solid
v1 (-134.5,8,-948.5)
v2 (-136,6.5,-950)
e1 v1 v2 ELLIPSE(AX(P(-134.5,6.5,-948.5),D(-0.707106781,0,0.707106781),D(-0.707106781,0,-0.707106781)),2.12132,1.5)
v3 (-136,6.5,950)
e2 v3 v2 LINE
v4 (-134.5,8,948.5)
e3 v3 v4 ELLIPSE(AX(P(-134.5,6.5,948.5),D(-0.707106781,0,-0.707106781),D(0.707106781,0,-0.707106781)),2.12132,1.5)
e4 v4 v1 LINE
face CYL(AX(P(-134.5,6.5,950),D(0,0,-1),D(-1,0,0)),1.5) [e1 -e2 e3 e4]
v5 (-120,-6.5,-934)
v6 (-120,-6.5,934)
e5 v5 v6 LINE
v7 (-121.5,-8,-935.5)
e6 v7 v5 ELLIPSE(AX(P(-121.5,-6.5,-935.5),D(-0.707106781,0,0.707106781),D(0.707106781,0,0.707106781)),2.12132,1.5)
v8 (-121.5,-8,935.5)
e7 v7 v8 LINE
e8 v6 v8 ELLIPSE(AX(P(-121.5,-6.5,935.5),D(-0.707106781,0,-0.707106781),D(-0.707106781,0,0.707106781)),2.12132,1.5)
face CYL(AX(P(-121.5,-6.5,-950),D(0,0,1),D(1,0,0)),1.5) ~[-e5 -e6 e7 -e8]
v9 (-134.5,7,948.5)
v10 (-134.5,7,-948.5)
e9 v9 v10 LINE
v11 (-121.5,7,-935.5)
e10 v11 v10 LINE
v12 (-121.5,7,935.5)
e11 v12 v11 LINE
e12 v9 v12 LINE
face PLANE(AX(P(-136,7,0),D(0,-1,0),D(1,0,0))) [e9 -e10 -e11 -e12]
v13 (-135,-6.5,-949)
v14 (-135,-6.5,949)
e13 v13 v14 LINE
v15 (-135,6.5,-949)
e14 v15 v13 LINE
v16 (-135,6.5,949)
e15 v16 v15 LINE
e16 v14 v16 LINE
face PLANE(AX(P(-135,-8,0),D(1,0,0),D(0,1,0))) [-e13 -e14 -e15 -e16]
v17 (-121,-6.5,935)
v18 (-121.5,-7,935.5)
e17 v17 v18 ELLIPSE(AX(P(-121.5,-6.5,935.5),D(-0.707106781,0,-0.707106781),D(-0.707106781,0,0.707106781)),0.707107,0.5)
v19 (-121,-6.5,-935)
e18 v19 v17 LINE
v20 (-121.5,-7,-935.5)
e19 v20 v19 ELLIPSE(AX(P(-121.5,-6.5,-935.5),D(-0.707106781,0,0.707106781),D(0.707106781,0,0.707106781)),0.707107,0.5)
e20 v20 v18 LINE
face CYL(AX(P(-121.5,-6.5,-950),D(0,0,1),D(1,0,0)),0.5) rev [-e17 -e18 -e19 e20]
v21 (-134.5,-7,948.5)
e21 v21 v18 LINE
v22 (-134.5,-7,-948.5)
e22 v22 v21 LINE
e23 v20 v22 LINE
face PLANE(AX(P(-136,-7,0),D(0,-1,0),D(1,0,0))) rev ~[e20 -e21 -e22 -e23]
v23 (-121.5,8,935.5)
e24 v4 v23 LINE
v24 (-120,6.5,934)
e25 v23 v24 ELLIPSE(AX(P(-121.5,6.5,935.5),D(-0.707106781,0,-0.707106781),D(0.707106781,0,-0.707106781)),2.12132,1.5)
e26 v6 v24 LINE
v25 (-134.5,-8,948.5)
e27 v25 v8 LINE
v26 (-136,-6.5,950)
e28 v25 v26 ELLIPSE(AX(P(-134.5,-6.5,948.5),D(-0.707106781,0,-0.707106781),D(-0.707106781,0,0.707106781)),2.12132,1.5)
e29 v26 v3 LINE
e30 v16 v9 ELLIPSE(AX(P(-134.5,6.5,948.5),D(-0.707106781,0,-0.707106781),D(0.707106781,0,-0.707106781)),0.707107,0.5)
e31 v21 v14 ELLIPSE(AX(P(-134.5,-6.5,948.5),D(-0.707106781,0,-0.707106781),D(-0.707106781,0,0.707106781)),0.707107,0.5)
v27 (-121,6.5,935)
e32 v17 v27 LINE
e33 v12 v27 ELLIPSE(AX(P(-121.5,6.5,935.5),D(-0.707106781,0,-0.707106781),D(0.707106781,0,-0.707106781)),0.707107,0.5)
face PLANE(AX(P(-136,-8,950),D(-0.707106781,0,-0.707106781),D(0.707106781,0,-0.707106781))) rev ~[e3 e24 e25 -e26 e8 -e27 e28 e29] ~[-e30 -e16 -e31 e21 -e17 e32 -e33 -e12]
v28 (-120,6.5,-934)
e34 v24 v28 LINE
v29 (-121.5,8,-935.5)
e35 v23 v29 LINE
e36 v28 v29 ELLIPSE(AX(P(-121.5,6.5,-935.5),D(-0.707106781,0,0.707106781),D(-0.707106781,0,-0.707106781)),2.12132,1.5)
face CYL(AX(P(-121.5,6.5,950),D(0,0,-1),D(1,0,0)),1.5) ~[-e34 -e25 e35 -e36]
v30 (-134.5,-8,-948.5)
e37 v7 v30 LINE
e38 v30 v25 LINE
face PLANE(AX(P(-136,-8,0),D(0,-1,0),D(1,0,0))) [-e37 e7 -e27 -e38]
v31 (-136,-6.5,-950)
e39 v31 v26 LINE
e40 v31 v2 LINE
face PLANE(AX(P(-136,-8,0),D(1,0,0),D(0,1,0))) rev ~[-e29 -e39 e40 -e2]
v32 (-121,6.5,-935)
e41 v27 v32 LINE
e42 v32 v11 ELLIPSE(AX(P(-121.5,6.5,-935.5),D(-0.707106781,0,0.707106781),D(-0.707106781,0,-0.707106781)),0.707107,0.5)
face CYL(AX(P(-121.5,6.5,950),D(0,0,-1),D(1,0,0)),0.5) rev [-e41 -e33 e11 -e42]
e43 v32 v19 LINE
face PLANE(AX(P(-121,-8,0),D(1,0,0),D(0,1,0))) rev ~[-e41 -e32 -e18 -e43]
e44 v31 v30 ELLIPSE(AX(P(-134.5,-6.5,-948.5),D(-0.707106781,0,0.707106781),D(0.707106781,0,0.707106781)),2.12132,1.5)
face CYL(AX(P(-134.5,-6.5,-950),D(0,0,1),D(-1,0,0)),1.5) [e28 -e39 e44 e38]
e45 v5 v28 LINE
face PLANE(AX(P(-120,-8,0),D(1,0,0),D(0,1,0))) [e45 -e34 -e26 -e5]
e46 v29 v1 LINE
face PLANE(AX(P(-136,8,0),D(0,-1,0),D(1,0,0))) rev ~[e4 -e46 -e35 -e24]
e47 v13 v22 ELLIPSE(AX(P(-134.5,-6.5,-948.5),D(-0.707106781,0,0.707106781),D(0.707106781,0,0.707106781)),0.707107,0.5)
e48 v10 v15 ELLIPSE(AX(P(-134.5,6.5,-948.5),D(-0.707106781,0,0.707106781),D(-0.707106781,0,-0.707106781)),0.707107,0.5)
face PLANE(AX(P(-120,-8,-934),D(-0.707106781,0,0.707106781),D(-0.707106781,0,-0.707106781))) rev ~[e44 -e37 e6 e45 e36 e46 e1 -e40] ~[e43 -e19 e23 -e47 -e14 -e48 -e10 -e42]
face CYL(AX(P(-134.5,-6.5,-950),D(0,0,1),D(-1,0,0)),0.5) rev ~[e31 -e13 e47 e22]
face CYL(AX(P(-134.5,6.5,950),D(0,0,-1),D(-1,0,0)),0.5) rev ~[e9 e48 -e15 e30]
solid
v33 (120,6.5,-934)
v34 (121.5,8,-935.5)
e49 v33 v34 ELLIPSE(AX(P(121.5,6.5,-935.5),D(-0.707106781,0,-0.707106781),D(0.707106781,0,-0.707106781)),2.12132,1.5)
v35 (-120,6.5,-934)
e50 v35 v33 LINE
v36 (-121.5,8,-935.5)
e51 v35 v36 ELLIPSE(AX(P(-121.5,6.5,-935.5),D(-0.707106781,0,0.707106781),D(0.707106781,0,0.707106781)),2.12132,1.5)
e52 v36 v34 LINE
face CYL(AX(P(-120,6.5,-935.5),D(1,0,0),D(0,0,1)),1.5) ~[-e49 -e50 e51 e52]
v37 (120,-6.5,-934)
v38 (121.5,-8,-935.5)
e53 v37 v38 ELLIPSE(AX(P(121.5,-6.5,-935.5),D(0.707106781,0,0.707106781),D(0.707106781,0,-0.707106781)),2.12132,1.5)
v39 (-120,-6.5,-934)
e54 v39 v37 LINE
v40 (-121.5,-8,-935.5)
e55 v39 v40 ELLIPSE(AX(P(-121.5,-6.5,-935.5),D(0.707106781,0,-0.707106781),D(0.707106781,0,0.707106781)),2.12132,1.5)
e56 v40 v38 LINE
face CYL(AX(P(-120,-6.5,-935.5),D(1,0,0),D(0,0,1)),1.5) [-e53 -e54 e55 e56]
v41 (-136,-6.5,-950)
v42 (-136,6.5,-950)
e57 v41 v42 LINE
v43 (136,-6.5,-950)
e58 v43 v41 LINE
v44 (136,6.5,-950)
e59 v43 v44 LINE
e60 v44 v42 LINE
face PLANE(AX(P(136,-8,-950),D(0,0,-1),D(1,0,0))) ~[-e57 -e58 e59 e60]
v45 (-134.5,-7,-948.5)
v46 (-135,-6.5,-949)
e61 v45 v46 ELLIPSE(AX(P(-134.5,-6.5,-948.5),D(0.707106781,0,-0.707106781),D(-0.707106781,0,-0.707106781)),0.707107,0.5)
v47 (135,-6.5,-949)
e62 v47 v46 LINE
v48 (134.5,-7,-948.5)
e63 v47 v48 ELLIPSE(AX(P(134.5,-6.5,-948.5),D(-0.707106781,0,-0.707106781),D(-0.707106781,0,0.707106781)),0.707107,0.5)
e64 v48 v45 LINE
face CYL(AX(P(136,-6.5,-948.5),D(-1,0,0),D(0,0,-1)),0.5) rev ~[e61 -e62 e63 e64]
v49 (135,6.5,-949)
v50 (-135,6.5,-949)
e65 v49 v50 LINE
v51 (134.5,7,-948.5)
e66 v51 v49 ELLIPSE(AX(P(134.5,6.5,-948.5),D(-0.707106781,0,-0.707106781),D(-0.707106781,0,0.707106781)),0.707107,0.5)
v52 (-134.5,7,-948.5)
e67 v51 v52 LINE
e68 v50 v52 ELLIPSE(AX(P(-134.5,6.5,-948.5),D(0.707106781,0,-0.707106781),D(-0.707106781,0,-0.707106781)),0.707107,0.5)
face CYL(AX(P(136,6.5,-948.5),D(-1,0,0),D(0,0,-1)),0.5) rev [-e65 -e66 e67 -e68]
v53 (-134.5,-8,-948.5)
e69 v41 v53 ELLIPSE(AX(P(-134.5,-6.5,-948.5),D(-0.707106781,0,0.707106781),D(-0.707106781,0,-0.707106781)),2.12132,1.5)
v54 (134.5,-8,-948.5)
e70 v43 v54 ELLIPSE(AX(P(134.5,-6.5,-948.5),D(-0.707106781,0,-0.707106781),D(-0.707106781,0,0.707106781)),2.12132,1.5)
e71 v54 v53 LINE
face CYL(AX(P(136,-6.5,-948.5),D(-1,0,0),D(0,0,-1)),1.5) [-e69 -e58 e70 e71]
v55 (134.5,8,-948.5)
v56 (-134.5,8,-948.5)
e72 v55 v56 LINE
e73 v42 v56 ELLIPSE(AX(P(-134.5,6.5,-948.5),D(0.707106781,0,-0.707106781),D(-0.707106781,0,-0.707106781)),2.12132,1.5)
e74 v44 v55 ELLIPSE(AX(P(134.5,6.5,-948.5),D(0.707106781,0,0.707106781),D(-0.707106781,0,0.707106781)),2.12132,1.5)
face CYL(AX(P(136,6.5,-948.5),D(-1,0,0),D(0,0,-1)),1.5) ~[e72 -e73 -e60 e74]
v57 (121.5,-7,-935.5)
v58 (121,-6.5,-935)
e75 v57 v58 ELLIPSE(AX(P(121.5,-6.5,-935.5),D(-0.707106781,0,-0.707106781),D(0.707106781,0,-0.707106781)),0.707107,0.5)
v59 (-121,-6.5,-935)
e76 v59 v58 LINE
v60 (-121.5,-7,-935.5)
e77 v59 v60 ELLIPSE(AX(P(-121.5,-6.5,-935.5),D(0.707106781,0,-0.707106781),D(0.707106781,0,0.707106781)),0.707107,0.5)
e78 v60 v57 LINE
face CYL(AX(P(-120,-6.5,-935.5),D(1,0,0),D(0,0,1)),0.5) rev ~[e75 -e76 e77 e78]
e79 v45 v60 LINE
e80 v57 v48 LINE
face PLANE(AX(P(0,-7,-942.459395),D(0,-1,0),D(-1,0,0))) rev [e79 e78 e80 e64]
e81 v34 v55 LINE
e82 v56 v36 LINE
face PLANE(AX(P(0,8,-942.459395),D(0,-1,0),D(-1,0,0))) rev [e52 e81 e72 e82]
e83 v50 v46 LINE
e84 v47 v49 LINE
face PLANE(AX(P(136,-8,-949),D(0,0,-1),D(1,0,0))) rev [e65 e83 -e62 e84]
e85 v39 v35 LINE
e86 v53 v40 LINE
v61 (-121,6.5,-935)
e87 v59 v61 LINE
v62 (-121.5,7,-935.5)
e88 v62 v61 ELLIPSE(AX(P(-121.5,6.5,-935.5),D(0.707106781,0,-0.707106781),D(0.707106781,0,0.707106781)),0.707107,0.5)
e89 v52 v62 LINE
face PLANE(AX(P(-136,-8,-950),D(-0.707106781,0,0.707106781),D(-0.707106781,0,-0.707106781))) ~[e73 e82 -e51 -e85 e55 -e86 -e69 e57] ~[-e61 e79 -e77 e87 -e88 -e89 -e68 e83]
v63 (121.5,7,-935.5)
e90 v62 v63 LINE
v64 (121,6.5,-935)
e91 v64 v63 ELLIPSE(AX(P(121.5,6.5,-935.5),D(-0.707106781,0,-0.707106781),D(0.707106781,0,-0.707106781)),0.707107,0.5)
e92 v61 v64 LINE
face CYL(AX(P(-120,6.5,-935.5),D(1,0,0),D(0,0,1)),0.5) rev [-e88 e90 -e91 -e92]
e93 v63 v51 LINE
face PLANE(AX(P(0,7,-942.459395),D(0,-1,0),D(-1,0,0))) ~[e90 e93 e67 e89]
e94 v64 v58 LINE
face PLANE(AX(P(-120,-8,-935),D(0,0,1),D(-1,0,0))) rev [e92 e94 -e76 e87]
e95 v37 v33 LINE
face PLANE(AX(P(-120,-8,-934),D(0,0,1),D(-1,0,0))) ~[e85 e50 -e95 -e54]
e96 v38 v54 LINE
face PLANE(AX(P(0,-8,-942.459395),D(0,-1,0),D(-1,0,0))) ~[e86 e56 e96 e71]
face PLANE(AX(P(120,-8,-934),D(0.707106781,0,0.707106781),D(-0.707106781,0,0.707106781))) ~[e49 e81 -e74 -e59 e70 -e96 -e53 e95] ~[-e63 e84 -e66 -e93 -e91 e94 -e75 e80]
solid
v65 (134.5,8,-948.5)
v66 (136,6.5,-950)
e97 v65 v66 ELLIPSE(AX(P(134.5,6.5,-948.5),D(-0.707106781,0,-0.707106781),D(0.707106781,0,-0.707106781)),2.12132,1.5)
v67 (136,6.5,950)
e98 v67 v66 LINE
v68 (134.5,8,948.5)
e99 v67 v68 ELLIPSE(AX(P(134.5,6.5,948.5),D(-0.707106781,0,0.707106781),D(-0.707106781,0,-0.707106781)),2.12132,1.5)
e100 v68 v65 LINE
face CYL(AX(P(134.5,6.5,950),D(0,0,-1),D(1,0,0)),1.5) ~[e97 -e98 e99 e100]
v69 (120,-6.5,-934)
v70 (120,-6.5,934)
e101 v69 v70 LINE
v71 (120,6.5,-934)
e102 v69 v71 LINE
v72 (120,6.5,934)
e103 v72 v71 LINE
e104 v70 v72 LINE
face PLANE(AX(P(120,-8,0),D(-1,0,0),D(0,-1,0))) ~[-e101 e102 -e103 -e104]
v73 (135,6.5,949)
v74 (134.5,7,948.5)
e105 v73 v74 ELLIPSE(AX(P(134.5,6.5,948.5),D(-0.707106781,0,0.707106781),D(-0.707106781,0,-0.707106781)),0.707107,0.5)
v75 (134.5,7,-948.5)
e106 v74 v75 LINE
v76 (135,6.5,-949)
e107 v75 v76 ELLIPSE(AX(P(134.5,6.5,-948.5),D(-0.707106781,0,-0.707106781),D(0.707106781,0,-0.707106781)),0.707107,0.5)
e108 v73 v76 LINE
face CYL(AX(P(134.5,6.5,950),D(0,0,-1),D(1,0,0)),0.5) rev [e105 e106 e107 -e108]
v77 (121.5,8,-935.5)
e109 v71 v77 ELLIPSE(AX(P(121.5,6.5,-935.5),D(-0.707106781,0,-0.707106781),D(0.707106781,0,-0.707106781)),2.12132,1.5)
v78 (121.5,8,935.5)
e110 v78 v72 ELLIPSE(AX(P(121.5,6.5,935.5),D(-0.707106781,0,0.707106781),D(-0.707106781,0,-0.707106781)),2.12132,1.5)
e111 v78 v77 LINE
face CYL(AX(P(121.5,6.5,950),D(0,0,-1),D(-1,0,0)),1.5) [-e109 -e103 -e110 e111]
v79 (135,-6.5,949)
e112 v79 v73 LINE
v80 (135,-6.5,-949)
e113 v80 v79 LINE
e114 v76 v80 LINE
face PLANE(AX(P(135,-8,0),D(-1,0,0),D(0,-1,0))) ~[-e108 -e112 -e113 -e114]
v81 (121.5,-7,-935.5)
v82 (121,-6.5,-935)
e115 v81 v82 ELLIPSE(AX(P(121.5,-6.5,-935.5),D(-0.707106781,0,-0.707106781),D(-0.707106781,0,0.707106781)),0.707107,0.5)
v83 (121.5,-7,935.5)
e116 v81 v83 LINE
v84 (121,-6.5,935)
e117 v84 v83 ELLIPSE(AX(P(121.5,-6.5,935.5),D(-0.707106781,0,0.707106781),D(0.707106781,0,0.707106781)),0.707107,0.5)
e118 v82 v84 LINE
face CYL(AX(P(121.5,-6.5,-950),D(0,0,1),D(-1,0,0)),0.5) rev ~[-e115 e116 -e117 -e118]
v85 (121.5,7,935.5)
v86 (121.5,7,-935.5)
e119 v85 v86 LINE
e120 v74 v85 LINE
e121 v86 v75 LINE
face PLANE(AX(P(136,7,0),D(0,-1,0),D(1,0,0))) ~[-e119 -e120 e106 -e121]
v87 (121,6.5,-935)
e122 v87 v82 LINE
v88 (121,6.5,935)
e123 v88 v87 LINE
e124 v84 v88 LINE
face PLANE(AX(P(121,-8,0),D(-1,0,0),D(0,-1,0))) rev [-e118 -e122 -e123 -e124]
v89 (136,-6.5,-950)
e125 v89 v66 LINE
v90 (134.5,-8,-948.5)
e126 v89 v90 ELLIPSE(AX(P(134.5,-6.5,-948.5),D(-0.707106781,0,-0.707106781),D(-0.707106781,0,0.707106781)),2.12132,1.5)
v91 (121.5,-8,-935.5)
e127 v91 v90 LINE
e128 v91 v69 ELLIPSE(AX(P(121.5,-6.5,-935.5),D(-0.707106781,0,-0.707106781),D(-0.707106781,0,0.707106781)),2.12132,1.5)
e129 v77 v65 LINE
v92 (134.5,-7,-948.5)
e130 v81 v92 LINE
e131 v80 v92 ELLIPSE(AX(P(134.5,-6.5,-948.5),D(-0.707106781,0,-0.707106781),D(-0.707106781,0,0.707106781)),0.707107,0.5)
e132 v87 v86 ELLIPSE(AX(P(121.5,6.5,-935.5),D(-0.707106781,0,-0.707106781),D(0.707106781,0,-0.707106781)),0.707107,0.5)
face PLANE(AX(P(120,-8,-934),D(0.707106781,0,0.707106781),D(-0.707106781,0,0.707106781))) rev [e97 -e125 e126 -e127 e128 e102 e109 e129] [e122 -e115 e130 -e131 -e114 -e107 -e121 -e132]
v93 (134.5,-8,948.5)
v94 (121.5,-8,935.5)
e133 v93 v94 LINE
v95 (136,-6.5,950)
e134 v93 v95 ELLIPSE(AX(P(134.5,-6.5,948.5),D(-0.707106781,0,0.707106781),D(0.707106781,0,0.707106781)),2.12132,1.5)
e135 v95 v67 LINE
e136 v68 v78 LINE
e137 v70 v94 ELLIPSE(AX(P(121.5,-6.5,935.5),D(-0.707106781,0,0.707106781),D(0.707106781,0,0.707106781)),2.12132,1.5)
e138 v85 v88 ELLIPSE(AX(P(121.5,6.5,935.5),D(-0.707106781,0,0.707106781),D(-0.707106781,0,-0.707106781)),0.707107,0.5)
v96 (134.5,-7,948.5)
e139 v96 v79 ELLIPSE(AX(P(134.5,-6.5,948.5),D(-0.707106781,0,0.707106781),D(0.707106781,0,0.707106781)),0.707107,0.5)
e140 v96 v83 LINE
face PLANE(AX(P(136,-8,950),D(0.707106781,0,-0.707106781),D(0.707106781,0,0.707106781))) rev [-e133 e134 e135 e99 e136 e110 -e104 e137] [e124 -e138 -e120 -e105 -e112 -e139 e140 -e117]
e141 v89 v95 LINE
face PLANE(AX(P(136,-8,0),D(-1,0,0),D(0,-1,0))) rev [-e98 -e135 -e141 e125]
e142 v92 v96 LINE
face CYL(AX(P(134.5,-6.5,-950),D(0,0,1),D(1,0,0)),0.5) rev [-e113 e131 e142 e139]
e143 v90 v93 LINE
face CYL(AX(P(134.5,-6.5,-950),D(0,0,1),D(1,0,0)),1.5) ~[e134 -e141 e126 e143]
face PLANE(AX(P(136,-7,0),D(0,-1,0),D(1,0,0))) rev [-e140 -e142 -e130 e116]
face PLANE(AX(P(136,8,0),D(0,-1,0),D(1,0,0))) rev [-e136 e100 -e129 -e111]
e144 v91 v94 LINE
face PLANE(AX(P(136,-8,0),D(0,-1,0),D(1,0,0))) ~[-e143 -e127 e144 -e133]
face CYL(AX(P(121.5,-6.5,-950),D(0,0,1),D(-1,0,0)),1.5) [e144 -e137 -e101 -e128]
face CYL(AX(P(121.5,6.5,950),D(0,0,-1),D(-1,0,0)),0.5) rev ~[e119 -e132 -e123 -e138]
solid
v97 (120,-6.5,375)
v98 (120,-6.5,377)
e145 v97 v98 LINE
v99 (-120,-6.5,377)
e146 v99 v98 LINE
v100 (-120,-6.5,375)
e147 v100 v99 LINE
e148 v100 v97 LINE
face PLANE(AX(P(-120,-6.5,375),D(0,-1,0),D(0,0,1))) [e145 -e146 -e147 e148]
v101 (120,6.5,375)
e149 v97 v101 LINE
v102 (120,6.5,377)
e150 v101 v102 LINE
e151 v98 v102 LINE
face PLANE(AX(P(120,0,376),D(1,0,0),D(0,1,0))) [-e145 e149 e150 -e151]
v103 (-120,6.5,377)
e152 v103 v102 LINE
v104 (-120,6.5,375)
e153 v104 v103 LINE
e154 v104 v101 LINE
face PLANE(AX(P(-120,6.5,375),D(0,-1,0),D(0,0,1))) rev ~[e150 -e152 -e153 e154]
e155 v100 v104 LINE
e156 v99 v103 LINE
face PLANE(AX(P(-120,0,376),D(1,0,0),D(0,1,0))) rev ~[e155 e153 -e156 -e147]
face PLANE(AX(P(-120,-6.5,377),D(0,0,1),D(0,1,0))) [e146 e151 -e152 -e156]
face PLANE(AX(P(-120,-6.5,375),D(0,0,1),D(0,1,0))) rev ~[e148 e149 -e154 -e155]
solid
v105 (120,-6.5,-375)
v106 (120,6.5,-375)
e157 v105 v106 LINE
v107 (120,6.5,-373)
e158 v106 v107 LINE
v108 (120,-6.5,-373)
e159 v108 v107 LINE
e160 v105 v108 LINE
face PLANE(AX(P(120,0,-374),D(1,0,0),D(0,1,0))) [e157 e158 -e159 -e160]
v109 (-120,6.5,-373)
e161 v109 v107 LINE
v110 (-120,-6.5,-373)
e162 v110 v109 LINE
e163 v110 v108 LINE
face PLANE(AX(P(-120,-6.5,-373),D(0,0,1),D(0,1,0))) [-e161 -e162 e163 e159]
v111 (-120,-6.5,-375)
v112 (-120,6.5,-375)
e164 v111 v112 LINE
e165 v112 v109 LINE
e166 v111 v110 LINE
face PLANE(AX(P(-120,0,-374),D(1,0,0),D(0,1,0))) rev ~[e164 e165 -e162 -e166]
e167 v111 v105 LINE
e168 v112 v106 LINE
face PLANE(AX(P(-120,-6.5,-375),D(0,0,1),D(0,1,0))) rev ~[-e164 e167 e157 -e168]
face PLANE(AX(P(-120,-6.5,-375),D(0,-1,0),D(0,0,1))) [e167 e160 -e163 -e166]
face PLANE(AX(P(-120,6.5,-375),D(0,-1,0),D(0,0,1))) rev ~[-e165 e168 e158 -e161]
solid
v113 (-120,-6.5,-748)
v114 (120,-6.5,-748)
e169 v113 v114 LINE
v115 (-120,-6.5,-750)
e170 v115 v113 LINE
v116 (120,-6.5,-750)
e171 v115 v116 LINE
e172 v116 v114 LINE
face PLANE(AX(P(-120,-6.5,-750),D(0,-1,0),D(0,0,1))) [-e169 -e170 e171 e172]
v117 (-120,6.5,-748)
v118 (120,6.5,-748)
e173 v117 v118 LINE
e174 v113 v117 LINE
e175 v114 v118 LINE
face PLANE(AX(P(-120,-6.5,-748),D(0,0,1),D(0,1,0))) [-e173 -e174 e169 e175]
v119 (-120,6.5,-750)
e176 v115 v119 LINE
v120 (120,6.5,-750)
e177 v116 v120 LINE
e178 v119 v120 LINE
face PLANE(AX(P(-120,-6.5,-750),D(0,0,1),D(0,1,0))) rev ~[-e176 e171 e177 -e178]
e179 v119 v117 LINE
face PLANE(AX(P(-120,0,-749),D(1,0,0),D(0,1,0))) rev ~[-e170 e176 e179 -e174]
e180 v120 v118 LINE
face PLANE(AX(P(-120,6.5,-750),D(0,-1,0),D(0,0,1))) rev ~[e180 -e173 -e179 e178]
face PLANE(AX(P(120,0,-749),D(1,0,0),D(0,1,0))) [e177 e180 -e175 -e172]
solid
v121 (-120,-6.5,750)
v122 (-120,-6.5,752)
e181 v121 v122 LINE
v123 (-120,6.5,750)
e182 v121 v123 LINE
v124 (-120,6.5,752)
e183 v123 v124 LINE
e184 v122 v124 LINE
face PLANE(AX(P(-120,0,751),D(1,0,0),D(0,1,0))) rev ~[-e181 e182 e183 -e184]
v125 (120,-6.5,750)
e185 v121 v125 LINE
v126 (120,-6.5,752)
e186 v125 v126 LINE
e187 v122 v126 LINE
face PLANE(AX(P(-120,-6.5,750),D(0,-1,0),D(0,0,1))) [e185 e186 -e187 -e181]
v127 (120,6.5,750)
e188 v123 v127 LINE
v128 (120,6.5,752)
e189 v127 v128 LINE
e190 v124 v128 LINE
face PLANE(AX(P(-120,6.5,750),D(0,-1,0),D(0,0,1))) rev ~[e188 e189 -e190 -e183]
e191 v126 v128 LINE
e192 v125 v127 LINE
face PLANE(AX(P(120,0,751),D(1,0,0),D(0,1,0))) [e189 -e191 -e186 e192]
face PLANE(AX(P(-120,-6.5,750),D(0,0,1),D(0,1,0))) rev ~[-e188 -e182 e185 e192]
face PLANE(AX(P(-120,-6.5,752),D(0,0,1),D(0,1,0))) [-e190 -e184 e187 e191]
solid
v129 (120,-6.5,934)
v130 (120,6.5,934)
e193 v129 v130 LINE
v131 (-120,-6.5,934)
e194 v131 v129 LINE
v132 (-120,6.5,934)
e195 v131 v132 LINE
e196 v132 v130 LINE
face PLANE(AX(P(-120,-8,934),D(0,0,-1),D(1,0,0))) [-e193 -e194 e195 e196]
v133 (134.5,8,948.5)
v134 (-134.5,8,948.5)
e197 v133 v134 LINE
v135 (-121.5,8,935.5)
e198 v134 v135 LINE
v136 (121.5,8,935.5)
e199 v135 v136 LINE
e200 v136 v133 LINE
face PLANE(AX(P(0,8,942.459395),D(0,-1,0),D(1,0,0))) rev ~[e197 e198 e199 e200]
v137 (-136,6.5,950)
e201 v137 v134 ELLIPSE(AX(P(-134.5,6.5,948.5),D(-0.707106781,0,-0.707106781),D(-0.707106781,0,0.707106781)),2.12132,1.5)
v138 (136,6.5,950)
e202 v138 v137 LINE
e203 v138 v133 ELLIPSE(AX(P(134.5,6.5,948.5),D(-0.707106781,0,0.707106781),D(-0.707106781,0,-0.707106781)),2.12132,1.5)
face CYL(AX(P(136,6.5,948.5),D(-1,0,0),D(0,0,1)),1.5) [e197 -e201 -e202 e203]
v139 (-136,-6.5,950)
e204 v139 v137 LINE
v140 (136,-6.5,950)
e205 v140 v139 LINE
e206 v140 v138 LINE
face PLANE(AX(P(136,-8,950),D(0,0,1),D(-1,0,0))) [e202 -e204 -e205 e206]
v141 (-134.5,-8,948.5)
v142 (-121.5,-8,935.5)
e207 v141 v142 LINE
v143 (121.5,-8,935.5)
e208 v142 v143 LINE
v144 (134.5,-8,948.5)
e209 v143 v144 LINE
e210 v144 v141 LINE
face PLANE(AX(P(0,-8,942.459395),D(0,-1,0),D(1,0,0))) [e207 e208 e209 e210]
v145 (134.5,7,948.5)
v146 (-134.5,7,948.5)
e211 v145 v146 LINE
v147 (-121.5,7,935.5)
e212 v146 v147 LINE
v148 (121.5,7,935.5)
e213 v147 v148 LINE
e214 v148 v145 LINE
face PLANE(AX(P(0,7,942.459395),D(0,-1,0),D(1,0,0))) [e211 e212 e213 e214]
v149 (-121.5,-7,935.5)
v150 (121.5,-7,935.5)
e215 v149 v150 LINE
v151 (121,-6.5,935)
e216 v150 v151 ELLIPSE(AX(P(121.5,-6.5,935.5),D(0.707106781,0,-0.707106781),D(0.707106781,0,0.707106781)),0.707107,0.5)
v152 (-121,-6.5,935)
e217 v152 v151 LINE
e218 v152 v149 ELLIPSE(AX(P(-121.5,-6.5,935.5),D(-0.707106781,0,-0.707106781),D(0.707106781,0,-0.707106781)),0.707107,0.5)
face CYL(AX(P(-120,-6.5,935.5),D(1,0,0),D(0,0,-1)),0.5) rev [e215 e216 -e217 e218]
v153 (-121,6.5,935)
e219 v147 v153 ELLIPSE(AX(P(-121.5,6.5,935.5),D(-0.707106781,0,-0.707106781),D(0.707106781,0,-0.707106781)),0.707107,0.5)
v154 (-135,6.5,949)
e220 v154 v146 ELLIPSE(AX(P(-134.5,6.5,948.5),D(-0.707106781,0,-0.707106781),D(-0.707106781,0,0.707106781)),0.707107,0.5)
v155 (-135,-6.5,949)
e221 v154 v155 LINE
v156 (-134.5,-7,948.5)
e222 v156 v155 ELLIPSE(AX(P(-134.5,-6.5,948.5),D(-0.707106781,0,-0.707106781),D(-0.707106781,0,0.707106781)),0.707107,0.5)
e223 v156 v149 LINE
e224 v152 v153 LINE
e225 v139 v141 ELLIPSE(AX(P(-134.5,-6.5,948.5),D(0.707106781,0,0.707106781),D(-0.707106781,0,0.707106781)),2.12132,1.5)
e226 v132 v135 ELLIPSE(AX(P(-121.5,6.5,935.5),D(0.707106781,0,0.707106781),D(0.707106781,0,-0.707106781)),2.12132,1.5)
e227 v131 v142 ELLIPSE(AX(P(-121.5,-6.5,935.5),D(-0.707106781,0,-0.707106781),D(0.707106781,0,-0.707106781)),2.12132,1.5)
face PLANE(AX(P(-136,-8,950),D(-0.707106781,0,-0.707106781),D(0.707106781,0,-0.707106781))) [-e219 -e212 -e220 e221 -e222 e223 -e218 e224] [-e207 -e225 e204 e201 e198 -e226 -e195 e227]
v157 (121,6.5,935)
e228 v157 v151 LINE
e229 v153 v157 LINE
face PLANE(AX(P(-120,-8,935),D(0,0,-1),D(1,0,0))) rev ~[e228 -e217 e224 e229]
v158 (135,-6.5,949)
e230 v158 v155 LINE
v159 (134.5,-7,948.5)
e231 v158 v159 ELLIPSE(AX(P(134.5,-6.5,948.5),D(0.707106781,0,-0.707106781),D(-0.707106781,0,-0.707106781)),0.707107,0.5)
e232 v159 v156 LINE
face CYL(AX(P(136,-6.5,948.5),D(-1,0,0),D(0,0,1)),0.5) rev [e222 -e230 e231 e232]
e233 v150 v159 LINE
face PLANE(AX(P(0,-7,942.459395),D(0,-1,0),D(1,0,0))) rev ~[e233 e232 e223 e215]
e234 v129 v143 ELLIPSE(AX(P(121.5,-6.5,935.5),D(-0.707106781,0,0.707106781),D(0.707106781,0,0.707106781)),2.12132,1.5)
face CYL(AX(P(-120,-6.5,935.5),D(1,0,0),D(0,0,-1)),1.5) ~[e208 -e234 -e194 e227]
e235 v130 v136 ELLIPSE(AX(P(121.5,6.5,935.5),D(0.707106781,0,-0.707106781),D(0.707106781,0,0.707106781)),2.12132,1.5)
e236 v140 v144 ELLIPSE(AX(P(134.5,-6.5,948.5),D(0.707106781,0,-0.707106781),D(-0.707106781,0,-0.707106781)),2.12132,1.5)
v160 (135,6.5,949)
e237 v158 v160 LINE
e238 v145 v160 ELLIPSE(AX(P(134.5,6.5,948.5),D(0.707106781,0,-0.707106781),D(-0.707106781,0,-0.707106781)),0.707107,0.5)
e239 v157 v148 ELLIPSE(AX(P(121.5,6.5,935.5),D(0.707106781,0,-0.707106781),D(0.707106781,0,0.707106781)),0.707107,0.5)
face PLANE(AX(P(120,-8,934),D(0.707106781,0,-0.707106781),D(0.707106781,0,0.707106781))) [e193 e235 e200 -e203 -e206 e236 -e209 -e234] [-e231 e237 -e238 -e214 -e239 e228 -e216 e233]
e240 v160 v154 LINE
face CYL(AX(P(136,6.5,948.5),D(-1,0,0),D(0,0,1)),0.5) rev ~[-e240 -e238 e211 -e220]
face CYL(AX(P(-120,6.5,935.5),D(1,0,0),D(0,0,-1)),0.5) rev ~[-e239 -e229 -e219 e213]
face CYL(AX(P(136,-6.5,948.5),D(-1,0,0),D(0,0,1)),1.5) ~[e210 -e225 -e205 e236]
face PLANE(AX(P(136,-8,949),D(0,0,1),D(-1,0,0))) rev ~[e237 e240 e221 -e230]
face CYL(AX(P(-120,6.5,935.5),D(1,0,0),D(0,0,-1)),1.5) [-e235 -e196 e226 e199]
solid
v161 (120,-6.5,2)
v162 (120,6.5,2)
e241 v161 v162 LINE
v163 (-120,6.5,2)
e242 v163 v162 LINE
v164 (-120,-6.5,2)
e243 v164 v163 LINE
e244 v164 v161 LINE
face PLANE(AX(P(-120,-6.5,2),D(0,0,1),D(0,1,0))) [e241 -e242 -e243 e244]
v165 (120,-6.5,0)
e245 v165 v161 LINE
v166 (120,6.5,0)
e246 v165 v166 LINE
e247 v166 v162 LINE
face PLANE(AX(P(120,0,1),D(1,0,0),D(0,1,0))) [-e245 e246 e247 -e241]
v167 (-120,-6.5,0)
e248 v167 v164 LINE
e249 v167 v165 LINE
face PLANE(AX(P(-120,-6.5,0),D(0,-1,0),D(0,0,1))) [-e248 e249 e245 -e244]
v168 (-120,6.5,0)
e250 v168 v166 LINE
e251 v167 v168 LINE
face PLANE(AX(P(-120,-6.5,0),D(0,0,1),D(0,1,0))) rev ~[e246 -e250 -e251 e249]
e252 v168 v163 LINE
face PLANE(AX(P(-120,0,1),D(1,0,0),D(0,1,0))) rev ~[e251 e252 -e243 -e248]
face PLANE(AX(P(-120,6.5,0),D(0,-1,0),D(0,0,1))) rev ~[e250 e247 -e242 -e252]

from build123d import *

# Parameters (mm, degrees)
F5_W      = 16
F5_H      = 16
F6_DEPTH  = 950
F7_R      = 1.5
F8_T      = -1
F10_DEPTH = 16.001
F12_DEPTH = 16
F13_R     = 1.5
F14_T     = -1
F17_W     = 13
F17_H     = 2
F18_DEPTH = 240


with BuildPart() as f6:
    # F5 (on Top) → F6 (new body, symmetric)
    with BuildSketch(Plane.XY):
        with Locations((-128, 0)):
            Rectangle(F5_W, F5_H)
    extrude(amount=F6_DEPTH, both=True)

    # F7
    f7_edges = [f6.edges().sort_by_distance(p)[0] for p in [
        (-120, -8, 0),
        (-120, 8, 0),
        (-136, 8, 0),
        (-136, -8, 0),
    ]]
    fillet(f7_edges, radius=F7_R)

    # F8
    f8_openings = [f6.faces().sort_by_distance(p)[0] for p in [
        (-128, 0, 950),
        (-128, 0, -950),
    ]]
    offset(amount=F8_T, openings=f8_openings)

    # F9 (on face) → F10 (cut, through all)
    with BuildSketch(Plane.XZ.offset(8)):
        Polygon((-120, 950), (-136, 950), (-120, 934), align=None)
        Polygon((-120, -934), (-136, -950), (-120, -950), align=None)
    extrude(amount=-F10_DEPTH, mode=Mode.SUBTRACT)


with BuildPart() as f12:
    # F11 (on face) → F12 (new body)
    with BuildSketch(Plane.XZ.offset(8)):
        Polygon((136, 950), (-136, 950), (-120, 934), (120, 934), align=None)
    extrude(amount=-F12_DEPTH)

    # F13
    f13_edges = [f12.edges().sort_by_distance(p)[0] for p in [
        (0, -8, 950),
        (0, -8, 934),
        (0, 8, 934),
        (0, 8, 950),
    ]]
    fillet(f13_edges, radius=F13_R)

    # F14
    f14_openings = [f12.faces().sort_by_distance(p)[0] for p in [
        (128, 0, 942),
        (-128, 0, 942),
    ]]
    offset(amount=F14_T, openings=f14_openings)


with BuildPart() as f15_1:
    # F15: instance of F6
    add(f6.part.mirror(Plane.YZ))


with BuildPart() as f16_1:
    # F16: instance of F12
    add(f12.part.mirror(Plane.XY))


with BuildPart() as f18:
    # F17 (on face) → F18 (new body)
    with BuildSketch(Plane.YZ.offset(-120)):
        with Locations((0, -749)):
            Rectangle(F17_W, F17_H)
    extrude(amount=F18_DEPTH)


with BuildPart() as f18b:
    # F17 (on face) → F18, piece 2 (new body)
    with BuildSketch(Plane.YZ.offset(-120)):
        with Locations((0, 751)):
            Rectangle(F17_W, F17_H)
    extrude(amount=F18_DEPTH)


with BuildPart() as f18c:
    # F17 (on face) → F18, piece 3 (new body)
    with BuildSketch(Plane.YZ.offset(-120)):
        with Locations((0, 376)):
            Rectangle(F17_W, F17_H)
    extrude(amount=F18_DEPTH)


with BuildPart() as f18d:
    # F17 (on face) → F18, piece 4 (new body)
    with BuildSketch(Plane.YZ.offset(-120)):
        with Locations((0, 1)):
            Rectangle(F17_W, F17_H)
    extrude(amount=F18_DEPTH)


with BuildPart() as f18e:
    # F17 (on face) → F18, piece 5 (new body)
    with BuildSketch(Plane.YZ.offset(-120)):
        with Locations((0, -374)):
            Rectangle(F17_W, F17_H)
    extrude(amount=F18_DEPTH)


solid = Compound([f6.part, f12.part, f15_1.part, f16_1.part, f18.part, f18b.part, f18c.part, f18d.part, f18e.part])
